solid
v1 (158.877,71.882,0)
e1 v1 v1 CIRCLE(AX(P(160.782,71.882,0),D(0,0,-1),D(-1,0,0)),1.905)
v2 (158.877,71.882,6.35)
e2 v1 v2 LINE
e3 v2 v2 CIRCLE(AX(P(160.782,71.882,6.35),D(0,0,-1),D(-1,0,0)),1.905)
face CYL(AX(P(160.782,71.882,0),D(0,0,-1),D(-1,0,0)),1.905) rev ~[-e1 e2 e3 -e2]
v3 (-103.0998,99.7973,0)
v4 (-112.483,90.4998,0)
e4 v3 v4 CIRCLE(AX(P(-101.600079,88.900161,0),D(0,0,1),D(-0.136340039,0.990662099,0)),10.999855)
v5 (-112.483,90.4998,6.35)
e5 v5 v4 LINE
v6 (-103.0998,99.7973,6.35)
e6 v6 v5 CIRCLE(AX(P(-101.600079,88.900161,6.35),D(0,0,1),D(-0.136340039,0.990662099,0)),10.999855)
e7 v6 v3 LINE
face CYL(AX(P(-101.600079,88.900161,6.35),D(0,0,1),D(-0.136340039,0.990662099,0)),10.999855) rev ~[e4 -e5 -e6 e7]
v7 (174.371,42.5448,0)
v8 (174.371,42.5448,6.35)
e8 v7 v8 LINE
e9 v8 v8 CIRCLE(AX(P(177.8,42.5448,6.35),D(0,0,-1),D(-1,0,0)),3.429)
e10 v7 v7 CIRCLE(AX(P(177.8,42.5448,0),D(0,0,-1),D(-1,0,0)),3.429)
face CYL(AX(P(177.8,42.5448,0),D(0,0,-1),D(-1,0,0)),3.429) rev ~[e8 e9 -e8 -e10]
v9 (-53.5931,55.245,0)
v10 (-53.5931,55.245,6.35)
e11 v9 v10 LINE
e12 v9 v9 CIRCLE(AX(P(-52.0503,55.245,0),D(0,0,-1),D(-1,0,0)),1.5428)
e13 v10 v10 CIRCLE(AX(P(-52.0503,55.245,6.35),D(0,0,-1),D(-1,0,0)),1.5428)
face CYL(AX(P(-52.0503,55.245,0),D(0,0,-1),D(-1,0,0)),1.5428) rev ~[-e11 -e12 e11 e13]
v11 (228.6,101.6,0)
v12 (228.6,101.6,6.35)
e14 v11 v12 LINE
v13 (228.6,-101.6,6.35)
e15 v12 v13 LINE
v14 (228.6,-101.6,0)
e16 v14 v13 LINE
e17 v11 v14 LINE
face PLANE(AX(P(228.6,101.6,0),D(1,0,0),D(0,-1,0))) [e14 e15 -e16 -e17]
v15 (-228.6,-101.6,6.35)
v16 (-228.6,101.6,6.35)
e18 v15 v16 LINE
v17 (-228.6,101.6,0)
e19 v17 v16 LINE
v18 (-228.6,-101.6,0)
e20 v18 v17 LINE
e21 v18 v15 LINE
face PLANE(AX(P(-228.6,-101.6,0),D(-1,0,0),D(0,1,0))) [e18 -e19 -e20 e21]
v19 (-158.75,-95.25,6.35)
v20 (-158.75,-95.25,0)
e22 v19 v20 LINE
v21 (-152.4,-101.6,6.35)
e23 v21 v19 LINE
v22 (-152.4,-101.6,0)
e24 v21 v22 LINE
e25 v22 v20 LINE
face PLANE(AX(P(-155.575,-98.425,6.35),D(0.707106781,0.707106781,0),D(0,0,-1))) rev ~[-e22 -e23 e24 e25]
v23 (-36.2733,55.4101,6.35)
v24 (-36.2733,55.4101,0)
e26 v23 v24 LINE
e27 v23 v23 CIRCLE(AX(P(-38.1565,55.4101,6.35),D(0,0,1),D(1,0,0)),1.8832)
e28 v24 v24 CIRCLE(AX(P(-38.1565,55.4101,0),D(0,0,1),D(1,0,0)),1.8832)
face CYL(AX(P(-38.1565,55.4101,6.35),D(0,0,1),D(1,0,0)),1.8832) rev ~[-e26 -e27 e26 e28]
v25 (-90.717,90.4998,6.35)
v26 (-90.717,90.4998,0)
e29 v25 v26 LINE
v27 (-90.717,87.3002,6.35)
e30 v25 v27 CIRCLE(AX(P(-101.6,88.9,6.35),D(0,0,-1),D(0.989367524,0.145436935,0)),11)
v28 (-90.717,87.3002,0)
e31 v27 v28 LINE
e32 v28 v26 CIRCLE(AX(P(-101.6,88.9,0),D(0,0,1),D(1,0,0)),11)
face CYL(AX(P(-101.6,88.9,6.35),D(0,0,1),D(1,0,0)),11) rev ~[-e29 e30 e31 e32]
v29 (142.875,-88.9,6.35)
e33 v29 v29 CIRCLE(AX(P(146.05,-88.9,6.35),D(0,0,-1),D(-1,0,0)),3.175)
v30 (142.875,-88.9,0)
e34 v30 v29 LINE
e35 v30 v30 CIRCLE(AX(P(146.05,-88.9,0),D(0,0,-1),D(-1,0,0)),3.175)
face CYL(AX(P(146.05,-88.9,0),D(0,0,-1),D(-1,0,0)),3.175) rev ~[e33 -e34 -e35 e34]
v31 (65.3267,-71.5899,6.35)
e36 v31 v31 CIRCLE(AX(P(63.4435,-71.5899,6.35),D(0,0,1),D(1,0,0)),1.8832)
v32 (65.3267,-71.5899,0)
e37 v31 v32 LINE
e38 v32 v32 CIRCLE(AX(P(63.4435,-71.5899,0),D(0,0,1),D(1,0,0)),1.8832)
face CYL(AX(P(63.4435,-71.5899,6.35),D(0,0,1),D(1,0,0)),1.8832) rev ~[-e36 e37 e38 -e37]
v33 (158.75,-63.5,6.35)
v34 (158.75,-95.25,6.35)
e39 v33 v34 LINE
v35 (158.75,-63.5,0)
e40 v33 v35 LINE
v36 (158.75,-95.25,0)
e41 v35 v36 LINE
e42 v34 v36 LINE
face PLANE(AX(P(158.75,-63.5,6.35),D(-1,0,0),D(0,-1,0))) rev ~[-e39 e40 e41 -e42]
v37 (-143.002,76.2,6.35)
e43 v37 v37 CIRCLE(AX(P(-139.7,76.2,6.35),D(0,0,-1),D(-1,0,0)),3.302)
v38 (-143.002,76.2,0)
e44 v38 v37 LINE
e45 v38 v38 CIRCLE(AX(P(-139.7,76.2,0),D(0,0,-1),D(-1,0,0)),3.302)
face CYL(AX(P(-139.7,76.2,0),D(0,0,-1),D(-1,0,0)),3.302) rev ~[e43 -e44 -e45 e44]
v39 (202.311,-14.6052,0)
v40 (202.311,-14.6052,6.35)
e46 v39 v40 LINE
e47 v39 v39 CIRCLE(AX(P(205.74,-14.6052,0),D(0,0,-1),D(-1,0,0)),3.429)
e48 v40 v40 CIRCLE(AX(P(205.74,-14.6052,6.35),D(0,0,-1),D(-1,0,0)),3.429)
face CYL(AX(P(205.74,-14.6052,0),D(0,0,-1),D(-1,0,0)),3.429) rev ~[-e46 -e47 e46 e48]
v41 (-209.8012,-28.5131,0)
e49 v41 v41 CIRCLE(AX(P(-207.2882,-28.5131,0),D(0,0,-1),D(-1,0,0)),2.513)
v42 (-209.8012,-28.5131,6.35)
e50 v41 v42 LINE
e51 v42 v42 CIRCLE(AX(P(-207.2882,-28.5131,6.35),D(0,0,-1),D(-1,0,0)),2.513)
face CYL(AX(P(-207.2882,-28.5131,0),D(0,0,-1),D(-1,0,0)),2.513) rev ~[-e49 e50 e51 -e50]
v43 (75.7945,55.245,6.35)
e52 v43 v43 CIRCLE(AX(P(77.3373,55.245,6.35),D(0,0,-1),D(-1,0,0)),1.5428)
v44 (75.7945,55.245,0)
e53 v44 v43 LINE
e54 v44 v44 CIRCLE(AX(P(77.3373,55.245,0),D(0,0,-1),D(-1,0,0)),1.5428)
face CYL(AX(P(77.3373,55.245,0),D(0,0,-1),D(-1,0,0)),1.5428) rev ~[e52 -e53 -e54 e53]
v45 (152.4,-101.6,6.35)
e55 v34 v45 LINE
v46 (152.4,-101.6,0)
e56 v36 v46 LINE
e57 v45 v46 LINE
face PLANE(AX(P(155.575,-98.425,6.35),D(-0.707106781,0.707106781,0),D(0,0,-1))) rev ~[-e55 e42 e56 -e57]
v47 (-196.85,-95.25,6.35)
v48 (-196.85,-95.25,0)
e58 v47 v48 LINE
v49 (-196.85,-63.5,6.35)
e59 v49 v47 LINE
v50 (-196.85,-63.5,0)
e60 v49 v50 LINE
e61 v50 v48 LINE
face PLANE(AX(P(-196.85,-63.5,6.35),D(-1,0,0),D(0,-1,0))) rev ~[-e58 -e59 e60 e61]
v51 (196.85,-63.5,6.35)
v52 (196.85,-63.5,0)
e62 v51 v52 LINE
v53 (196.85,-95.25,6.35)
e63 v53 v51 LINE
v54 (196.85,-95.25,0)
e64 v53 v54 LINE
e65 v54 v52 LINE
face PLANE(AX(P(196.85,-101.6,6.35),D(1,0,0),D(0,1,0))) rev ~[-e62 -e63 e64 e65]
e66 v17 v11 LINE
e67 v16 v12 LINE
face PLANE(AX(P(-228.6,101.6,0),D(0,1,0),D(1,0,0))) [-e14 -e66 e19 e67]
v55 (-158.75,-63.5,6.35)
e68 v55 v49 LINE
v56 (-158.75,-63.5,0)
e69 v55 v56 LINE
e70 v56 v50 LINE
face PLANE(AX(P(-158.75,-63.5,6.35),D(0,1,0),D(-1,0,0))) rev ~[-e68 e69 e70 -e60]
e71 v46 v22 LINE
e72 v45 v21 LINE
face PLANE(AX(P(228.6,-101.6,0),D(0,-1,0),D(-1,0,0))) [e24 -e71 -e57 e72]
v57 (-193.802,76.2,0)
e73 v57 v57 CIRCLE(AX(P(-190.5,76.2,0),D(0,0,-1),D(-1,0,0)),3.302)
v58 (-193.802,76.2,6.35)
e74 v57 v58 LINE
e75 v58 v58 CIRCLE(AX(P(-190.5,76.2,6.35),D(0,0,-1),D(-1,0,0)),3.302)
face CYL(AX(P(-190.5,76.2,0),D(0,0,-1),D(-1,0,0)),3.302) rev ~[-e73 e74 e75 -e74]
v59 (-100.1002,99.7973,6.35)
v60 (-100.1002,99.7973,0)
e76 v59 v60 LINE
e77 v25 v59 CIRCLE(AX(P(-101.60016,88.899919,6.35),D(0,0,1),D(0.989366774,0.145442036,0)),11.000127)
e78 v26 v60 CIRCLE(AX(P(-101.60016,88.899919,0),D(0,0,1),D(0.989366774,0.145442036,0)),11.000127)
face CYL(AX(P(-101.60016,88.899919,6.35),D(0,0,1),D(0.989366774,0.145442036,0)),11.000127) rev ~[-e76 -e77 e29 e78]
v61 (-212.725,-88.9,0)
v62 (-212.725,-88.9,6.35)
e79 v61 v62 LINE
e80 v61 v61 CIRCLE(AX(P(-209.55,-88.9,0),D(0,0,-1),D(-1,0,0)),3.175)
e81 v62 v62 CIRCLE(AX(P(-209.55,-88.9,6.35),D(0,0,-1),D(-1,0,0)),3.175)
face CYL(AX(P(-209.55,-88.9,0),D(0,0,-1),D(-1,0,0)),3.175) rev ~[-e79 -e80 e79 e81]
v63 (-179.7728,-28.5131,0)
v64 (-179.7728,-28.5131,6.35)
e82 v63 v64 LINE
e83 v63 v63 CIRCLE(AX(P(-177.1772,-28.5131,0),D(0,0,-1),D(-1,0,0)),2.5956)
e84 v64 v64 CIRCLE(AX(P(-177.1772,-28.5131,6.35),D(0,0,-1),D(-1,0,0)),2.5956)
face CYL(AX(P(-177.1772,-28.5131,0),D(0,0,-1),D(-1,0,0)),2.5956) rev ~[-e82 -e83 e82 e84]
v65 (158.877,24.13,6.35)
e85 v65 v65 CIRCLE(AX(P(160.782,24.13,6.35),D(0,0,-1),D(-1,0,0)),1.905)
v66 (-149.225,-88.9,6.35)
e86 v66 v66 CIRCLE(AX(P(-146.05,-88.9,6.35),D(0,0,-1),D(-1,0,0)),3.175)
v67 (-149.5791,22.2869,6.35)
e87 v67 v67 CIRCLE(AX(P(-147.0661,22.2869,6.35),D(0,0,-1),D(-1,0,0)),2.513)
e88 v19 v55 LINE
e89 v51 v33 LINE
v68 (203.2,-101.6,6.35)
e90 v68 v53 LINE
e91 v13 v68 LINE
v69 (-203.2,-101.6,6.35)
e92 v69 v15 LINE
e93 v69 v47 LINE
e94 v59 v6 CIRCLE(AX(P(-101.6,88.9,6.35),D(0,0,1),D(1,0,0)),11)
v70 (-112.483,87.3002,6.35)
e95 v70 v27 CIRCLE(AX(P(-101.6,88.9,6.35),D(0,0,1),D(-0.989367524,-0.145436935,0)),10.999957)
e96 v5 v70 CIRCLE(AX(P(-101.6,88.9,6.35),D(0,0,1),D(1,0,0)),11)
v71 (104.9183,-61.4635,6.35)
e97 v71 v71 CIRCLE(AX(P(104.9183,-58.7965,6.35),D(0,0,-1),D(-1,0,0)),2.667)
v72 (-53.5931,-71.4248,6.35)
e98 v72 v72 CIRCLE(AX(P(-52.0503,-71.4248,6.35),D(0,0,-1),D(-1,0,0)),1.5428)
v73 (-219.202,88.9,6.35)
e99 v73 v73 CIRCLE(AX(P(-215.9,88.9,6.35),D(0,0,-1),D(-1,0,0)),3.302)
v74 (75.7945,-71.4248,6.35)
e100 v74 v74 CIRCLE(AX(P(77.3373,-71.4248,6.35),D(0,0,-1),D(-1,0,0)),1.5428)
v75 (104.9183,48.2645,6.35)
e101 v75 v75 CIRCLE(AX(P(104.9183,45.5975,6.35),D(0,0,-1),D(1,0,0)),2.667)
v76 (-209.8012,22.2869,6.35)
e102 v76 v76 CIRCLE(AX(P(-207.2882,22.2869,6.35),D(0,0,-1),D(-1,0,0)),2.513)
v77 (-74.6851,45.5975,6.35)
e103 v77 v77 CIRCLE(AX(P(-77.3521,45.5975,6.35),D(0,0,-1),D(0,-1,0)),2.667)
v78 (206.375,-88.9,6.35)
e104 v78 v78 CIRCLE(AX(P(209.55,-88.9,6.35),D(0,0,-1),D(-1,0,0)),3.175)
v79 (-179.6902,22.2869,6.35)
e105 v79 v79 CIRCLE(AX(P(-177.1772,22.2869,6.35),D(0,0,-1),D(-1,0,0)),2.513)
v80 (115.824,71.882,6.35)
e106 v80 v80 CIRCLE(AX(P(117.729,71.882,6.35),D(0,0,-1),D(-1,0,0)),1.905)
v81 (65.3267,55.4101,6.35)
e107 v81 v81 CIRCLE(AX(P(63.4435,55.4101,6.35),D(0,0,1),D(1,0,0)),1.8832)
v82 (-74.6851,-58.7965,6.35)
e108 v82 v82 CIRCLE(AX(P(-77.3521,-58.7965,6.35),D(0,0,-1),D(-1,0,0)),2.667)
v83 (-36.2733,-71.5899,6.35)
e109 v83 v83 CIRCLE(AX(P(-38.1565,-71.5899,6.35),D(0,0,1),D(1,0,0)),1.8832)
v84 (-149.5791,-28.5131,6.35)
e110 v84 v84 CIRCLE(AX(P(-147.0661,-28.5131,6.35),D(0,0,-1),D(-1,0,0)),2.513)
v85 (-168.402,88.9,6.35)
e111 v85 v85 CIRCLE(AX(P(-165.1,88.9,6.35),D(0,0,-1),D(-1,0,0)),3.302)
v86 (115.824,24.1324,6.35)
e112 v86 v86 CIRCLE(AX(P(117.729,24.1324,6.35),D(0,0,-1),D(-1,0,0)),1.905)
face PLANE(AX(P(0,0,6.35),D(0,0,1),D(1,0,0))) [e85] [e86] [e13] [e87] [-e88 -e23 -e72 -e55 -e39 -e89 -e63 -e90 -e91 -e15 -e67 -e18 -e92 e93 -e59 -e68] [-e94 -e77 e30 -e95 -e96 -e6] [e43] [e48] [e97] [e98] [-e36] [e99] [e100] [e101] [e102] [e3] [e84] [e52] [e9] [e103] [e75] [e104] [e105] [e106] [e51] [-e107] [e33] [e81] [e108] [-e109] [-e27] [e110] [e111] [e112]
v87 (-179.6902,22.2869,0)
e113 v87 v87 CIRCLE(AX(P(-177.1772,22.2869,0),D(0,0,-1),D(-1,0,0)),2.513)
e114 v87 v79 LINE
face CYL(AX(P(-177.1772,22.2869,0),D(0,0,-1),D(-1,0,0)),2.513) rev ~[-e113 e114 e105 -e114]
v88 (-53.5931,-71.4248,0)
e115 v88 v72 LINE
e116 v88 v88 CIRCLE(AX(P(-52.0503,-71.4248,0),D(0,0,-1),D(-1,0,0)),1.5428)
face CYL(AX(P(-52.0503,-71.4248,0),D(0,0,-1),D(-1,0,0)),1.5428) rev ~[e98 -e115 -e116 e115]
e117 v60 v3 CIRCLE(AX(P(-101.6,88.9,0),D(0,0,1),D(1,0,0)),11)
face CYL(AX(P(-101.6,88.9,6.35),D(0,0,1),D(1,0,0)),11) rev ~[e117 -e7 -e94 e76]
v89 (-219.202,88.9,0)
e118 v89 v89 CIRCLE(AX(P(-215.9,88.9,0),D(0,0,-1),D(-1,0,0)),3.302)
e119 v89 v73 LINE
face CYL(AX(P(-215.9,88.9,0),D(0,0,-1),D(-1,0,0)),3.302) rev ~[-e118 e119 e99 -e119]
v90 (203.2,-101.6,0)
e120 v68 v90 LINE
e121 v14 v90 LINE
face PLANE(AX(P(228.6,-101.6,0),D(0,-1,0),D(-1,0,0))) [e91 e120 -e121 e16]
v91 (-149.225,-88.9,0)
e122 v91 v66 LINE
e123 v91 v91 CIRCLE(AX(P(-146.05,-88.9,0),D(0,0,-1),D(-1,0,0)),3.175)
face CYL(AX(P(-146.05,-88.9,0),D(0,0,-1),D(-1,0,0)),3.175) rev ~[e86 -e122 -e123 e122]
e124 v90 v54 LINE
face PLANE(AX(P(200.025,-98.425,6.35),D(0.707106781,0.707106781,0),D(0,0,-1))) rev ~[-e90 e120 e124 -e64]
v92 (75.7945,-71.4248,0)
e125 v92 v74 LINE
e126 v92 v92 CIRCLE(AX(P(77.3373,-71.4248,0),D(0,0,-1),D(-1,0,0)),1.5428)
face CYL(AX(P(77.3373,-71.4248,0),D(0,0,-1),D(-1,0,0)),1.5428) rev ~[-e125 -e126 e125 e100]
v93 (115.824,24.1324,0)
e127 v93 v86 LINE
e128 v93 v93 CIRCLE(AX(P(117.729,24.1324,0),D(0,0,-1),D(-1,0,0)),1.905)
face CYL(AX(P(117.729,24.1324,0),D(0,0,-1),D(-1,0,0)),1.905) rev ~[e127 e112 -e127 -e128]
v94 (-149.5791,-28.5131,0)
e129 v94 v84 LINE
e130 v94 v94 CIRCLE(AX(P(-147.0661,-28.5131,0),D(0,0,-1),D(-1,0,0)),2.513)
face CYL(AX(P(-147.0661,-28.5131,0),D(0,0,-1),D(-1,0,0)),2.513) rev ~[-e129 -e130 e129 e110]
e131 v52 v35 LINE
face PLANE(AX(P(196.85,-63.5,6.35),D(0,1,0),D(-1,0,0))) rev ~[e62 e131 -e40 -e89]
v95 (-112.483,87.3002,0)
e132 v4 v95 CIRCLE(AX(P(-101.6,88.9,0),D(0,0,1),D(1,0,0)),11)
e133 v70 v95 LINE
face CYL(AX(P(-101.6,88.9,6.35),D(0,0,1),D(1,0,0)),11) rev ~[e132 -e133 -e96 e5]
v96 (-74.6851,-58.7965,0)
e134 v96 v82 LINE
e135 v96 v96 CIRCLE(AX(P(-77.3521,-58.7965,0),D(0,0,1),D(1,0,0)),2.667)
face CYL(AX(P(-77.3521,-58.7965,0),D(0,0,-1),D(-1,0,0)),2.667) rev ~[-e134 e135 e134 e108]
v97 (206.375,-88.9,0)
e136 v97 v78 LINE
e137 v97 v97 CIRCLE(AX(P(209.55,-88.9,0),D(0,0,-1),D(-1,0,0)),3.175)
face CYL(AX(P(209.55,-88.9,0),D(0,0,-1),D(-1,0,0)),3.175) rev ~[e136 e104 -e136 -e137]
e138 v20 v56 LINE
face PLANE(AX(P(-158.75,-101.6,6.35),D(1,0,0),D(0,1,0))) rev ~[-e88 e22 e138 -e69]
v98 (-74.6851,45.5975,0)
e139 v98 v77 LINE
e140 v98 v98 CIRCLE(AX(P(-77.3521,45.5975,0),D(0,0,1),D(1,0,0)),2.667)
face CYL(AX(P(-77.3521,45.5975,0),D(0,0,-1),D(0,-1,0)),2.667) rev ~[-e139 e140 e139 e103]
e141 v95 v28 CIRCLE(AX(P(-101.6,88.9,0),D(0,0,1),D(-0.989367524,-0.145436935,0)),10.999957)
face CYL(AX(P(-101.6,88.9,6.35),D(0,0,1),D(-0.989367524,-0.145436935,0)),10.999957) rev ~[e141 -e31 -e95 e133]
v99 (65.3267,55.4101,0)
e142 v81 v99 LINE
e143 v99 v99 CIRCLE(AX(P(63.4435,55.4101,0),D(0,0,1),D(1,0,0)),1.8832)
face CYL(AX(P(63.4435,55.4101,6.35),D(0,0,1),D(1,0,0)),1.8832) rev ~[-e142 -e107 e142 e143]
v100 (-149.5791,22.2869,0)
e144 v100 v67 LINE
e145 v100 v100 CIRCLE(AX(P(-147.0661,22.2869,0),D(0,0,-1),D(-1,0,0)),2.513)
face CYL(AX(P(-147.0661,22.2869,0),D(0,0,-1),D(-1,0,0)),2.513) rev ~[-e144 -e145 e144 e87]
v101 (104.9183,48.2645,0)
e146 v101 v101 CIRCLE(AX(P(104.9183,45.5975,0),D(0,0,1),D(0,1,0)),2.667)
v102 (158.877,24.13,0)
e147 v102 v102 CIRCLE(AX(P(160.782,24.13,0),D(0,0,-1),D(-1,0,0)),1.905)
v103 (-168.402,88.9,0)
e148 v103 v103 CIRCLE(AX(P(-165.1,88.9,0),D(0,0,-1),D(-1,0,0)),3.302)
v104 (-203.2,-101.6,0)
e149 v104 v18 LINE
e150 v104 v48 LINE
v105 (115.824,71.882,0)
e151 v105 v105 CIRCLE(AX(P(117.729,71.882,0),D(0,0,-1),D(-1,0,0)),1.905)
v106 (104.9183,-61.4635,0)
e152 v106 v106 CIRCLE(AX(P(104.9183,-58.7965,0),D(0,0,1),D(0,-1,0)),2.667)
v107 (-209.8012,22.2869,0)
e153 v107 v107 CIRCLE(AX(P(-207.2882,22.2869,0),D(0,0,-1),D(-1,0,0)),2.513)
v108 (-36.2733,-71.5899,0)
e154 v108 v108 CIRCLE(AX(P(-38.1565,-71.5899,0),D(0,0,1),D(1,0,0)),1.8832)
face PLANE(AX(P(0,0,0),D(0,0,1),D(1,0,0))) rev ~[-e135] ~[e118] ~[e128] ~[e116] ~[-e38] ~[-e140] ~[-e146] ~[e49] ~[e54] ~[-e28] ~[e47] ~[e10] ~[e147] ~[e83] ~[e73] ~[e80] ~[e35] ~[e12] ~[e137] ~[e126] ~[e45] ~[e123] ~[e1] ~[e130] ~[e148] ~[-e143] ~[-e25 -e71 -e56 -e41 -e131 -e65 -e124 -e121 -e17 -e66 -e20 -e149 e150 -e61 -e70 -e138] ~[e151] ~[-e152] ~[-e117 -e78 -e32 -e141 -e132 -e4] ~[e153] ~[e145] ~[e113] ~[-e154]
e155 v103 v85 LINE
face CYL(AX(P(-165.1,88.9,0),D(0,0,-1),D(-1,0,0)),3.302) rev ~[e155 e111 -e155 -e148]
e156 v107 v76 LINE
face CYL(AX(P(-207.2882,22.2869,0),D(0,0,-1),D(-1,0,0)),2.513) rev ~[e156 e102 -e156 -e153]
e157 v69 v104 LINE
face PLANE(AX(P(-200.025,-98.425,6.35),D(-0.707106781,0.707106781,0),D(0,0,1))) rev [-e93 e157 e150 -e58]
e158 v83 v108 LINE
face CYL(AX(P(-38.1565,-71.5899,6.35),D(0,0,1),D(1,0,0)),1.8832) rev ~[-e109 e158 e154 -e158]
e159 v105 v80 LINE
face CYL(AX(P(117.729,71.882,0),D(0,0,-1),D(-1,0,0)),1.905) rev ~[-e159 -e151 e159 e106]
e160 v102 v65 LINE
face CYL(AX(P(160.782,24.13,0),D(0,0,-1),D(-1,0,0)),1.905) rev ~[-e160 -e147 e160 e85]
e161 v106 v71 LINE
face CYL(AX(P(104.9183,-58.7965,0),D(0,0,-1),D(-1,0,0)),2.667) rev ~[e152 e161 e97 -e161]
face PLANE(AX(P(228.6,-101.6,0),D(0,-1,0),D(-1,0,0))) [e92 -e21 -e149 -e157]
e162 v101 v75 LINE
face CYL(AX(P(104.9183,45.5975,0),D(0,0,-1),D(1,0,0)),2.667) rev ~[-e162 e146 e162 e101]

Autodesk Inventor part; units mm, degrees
ref_plane "YZ Plane" through (0, 0, 0) normal (1, 0, 0) x (0, 1, 0)
ref_plane "XZ Plane" through (0, 0, 0) normal (0, 1, 0) x (-1, 0, 0)
ref_plane "XY Plane" through (0, 0, 0) normal (0, 0, 1) x (1, 0, 0)
sketch "Sketch1" plane through (0, 0, 0) normal (0, 0, 1) x (1, 0, 0)
  line L0 (-228.6, 101.6) -> (228.6, 101.6)
  line L1 (228.6, 101.6) -> (228.6, -101.6)
  line L2 (228.6, -101.6) -> (-228.6, -101.6)
  line L3 (-228.6, -101.6) -> (-228.6, 101.6)
  point P0 (0, 0)
  dimension "d0" = 457.2
  dimension "d1" = 203.2
  dimension "d2" = 228.6
  dimension "d3" = 101.6
extrude "Extrusion1" add sketch "Sketch1" along normal blind 6.35
sketch "Sketch2" plane through (0, 0, 6.35) normal (0, 0, 1) x (1, 0, 0)
  line L0 (-228.6, -101.6) -> (228.6, -101.6) projected
  line L1 (-196.85, -101.6) -> (-158.75, -101.6)
  line L2 (-158.75, -101.6) -> (-158.75, -63.5)
  line L3 (-158.75, -63.5) -> (-196.85, -63.5)
  line L4 (-196.85, -63.5) -> (-196.85, -101.6)
  line L5 (158.75, -101.6) -> (196.85, -101.6)
  line L6 (196.85, -101.6) -> (196.85, -63.5)
  line L7 (196.85, -63.5) -> (158.75, -63.5)
  line L8 (158.75, -63.5) -> (158.75, -101.6)
  line L9 (-228.6, 101.6) -> (-228.6, -101.6) projected
  line L10 (228.6, -101.6) -> (228.6, 101.6) projected
  point P0 (0, 0)
  dimension "d6" = 31.75
  dimension "d7" = 38.1
  dimension "d8" = 38.1
  dimension "d9" = 31.75
extrude "Extrusion2" cut sketch "Sketch2" against normal through all
chamfer "Chamfer1" distance 6.35 angle 45 4 edges at (196.85, -101.6, 3.175) (158.75, -101.6, 3.175) (-196.85, -101.6, 3.175) (-158.75, -101.6, 3.175)
sketch "Sketch3" plane through (0, 0, 0) normal (0, 0, -1) x (-1, 0, 0)
  circle A0 centre (-209.55, -88.9) radius 3.175
  circle A1 centre (-146.05, -88.9) radius 3.175
  circle A2 centre (146.05, -88.9) radius 3.175
  circle A3 centre (209.55, -88.9) radius 3.175
  line L0 (-152.4, -101.6) -> (152.4, -101.6) projected
  line L1 (-228.6, 101.6) -> (-228.6, -101.6) projected
  line L2 (228.6, -101.6) -> (228.6, 101.6) projected
  point P0 (0, 0)
  dimension "d15" = 12.7
  dimension "d16" = 6.35
  dimension "d17" = 19.05
  dimension "d18" = 63.5
  dimension "d19" = 63.5
  dimension "d20" = 19.05
extrude "Extrusion3" cut sketch "Sketch3" against normal blind 25.4
sketch "Sketch4" plane through (0, 0, 0) normal (0, 0, -1) x (-1, 0, 0)
  circle A0 centre (139.7, 76.2) radius 3.302 projected
  circle A1 centre (165.1, 88.9) radius 3.302 projected
  circle A2 centre (190.5, 76.2) radius 3.302 projected
  circle A3 centre (215.9, 88.9) radius 3.302 projected
  circle A4 centre (147.0661, 22.2869) radius 2.513 projected
  circle A5 centre (177.1772, 22.2869) radius 2.513 projected
  circle A6 centre (207.2882, 22.2869) radius 2.513 projected
  circle A7 centre (207.2882, -28.5131) radius 2.513 projected
  circle A8 centre (177.1772, -28.5131) radius 2.5956 projected
  circle A9 centre (147.0661, -28.5131) radius 2.513 projected
  circle A10 centre (-77.3373, 55.245) radius 1.5428 projected
  circle A11 centre (52.0503, 55.245) radius 1.5428 projected
  circle A12 centre (52.0503, -71.4248) radius 1.5428 projected
  circle A13 centre (-77.3373, -71.4248) radius 1.5428 projected
  arc A14 (-104.9183, -56.1295) -> (-107.5853, -58.7965) centre (-104.9183, -58.7965) ccw projected
  arc A15 (-102.2513, -58.7965) -> (-104.9183, -56.1295) centre (-104.9183, -58.7965) ccw projected
  arc A16 (-104.9183, -61.4635) -> (-102.2513, -58.7965) centre (-104.9183, -58.7965) ccw projected
  arc A17 (-107.5853, -58.7965) -> (-104.9183, -61.4635) centre (-104.9183, -58.7965) ccw projected
  arc A18 (77.3521, -56.1295) -> (74.6851, -58.7965) centre (77.3521, -58.7965) ccw projected
  arc A19 (74.6851, -58.7965) -> (77.3521, -61.4635) centre (77.3521, -58.7965) ccw projected
  arc A20 (77.3521, -61.4635) -> (80.0191, -58.7965) centre (77.3521, -58.7965) ccw projected
  arc A21 (80.0191, -58.7965) -> (77.3521, -56.1295) centre (77.3521, -58.7965) ccw projected
  arc A22 (80.0191, 45.5975) -> (77.3521, 48.2645) centre (77.3521, 45.5975) ccw projected
  arc A23 (77.3521, 48.2645) -> (74.6851, 45.5975) centre (77.3521, 45.5975) ccw projected
  arc A24 (74.6851, 45.5975) -> (77.3521, 42.9305) centre (77.3521, 45.5975) ccw projected
  arc A25 (77.3521, 42.9305) -> (80.0191, 45.5975) centre (77.3521, 45.5975) ccw projected
  arc A26 (-104.9183, 42.9305) -> (-102.2513, 45.5975) centre (-104.9183, 45.5975) ccw projected
  arc A27 (-107.5853, 45.5975) -> (-104.9183, 42.9305) centre (-104.9183, 45.5975) ccw projected
  arc A28 (-104.9183, 48.2645) -> (-107.5853, 45.5975) centre (-104.9183, 45.5975) ccw projected
  arc A29 (-102.2513, 45.5975) -> (-104.9183, 48.2645) centre (-104.9183, 45.5975) ccw projected
  circle A30 centre (-160.782, 71.882) radius 1.905 projected
  circle A31 centre (-160.782, 24.13) radius 1.905 projected
  circle A32 centre (-117.729, 24.1324) radius 1.905 projected
  circle A33 centre (-117.729, 71.882) radius 1.905 projected
  circle A34 centre (146.05, -88.9) radius 3.175 projected
  circle A35 centre (-209.55, -88.9) radius 3.175 projected
  circle A36 centre (-146.05, -88.9) radius 3.175 projected
  circle A37 centre (209.55, -88.9) radius 3.175 projected
  line L0 (158.75, -95.25) -> (152.4, -101.6) projected
  line L1 (158.75, -95.25) -> (158.75, -63.5) projected
  line L2 (158.75, -63.5) -> (196.85, -63.5) projected
  line L3 (196.85, -63.5) -> (196.85, -95.25) projected
  line L4 (203.2, -101.6) -> (196.85, -95.25) projected
  line L5 (203.2, -101.6) -> (228.6, -101.6) projected
  line L6 (228.6, -101.6) -> (228.6, 101.6) projected
  line L7 (228.6, 101.6) -> (-228.6, 101.6) projected
  line L8 (-228.6, 101.6) -> (-228.6, -101.6) projected
  line L9 (-228.6, -101.6) -> (-203.2, -101.6) projected
  line L10 (-196.85, -95.25) -> (-203.2, -101.6) projected
  line L11 (-196.85, -95.25) -> (-196.85, -63.5) projected
  line L12 (-196.85, -63.5) -> (-158.75, -63.5) projected
  line L13 (-158.75, -63.5) -> (-158.75, -95.25) projected
  line L14 (-152.4, -101.6) -> (-158.75, -95.25) projected
  line L15 (-152.4, -101.6) -> (152.4, -101.6) projected
  circle A38 centre (-177.8, 42.5448) radius 3.429 projected
  circle A39 centre (-205.74, -14.6052) radius 3.429 projected
  point P0 (0, 0)
extrude "Extrusion4" cut sketch "Sketch4" against normal through all contours A0 | A1 | A2 | A3 | A4 | A5 | A6 | A7 | A8 | A9 | A10 | A11 | A12 | A13 | A15 A16 A17 A14 | A21 A20 A19 A18 | A25 A24 A23 A22 | A27 A28 A29 A26 | A30 | A31 | A32 | A33 | A38 | A39
sketch "Sketch5" plane through (0, 0, 6.35) normal (0, 0, 1) x (1, 0, 0)
  line L0 (-90.717, 90.4998) -> (-91.3, 90.4141) projected
  line L1 (-91.3, 90.4141) -> (-91.3, 87.3859) projected
  line L2 (-91.3, 87.3859) -> (-90.717, 87.3002) projected
  arc A0 (-112.483, 87.3002) -> (-90.717, 87.3002) centre (-101.6, 88.9) ccw projected
  line L3 (-112.483, 87.3002) -> (-111.9, 87.3859) projected
  line L4 (-111.9, 87.3859) -> (-111.9, 90.4141) projected
  line L5 (-111.9, 90.4141) -> (-112.483, 90.4998) projected
  arc A1 (-103.0998, 99.7973) -> (-112.483, 90.4998) centre (-101.6, 88.9) ccw projected
  line L6 (-103.1, 101.3) -> (-103.0998, 99.7973) projected
  line L7 (-103.1, 101.3) -> (-100.1, 101.3) projected
  line L8 (-100.1002, 99.7973) -> (-100.1, 101.3) projected
  arc A2 (-90.717, 90.4998) -> (-100.1002, 99.7973) centre (-101.6, 88.9) ccw projected
  circle A3 centre (-101.6, 88.9) radius 17.9999 projected
  circle A4 centre (-101.6, 88.9) radius 11
  point P0 (0, 0)
extrude "Extrusion5" cut sketch "Sketch5" against normal through all contours A4 L2 L1 L0 | L0 L1 L2 A0 L3 L4 L5 A1 A4 A2 | L5 L4 L3 A4
sketch "Sketch6" plane through (0, 0, 6.35) normal (0, 0, 1) x (1, 0, 0)
  circle A0 centre (-38.1565, 55.4101) radius 1.8832
  circle A1 centre (63.4435, 55.4101) radius 1.8832
  circle A2 centre (63.4435, -71.5899) radius 1.8832
  circle A3 centre (-38.1565, -71.5899) radius 1.8832
  point P0 (0, 0)
extrude "Extrusion6" cut sketch "Sketch6" against normal blind 25.4
equation "\"d2\" = 0.5 * d0"
equation "\"d3\" = 0.5 * d1"
equation "\"d9\" = d6"
equation "\"d19\" = d18"
equation "\"d20\" = d17"
properties part number "LexanPlate" material "Polycarbonate, Clear"
